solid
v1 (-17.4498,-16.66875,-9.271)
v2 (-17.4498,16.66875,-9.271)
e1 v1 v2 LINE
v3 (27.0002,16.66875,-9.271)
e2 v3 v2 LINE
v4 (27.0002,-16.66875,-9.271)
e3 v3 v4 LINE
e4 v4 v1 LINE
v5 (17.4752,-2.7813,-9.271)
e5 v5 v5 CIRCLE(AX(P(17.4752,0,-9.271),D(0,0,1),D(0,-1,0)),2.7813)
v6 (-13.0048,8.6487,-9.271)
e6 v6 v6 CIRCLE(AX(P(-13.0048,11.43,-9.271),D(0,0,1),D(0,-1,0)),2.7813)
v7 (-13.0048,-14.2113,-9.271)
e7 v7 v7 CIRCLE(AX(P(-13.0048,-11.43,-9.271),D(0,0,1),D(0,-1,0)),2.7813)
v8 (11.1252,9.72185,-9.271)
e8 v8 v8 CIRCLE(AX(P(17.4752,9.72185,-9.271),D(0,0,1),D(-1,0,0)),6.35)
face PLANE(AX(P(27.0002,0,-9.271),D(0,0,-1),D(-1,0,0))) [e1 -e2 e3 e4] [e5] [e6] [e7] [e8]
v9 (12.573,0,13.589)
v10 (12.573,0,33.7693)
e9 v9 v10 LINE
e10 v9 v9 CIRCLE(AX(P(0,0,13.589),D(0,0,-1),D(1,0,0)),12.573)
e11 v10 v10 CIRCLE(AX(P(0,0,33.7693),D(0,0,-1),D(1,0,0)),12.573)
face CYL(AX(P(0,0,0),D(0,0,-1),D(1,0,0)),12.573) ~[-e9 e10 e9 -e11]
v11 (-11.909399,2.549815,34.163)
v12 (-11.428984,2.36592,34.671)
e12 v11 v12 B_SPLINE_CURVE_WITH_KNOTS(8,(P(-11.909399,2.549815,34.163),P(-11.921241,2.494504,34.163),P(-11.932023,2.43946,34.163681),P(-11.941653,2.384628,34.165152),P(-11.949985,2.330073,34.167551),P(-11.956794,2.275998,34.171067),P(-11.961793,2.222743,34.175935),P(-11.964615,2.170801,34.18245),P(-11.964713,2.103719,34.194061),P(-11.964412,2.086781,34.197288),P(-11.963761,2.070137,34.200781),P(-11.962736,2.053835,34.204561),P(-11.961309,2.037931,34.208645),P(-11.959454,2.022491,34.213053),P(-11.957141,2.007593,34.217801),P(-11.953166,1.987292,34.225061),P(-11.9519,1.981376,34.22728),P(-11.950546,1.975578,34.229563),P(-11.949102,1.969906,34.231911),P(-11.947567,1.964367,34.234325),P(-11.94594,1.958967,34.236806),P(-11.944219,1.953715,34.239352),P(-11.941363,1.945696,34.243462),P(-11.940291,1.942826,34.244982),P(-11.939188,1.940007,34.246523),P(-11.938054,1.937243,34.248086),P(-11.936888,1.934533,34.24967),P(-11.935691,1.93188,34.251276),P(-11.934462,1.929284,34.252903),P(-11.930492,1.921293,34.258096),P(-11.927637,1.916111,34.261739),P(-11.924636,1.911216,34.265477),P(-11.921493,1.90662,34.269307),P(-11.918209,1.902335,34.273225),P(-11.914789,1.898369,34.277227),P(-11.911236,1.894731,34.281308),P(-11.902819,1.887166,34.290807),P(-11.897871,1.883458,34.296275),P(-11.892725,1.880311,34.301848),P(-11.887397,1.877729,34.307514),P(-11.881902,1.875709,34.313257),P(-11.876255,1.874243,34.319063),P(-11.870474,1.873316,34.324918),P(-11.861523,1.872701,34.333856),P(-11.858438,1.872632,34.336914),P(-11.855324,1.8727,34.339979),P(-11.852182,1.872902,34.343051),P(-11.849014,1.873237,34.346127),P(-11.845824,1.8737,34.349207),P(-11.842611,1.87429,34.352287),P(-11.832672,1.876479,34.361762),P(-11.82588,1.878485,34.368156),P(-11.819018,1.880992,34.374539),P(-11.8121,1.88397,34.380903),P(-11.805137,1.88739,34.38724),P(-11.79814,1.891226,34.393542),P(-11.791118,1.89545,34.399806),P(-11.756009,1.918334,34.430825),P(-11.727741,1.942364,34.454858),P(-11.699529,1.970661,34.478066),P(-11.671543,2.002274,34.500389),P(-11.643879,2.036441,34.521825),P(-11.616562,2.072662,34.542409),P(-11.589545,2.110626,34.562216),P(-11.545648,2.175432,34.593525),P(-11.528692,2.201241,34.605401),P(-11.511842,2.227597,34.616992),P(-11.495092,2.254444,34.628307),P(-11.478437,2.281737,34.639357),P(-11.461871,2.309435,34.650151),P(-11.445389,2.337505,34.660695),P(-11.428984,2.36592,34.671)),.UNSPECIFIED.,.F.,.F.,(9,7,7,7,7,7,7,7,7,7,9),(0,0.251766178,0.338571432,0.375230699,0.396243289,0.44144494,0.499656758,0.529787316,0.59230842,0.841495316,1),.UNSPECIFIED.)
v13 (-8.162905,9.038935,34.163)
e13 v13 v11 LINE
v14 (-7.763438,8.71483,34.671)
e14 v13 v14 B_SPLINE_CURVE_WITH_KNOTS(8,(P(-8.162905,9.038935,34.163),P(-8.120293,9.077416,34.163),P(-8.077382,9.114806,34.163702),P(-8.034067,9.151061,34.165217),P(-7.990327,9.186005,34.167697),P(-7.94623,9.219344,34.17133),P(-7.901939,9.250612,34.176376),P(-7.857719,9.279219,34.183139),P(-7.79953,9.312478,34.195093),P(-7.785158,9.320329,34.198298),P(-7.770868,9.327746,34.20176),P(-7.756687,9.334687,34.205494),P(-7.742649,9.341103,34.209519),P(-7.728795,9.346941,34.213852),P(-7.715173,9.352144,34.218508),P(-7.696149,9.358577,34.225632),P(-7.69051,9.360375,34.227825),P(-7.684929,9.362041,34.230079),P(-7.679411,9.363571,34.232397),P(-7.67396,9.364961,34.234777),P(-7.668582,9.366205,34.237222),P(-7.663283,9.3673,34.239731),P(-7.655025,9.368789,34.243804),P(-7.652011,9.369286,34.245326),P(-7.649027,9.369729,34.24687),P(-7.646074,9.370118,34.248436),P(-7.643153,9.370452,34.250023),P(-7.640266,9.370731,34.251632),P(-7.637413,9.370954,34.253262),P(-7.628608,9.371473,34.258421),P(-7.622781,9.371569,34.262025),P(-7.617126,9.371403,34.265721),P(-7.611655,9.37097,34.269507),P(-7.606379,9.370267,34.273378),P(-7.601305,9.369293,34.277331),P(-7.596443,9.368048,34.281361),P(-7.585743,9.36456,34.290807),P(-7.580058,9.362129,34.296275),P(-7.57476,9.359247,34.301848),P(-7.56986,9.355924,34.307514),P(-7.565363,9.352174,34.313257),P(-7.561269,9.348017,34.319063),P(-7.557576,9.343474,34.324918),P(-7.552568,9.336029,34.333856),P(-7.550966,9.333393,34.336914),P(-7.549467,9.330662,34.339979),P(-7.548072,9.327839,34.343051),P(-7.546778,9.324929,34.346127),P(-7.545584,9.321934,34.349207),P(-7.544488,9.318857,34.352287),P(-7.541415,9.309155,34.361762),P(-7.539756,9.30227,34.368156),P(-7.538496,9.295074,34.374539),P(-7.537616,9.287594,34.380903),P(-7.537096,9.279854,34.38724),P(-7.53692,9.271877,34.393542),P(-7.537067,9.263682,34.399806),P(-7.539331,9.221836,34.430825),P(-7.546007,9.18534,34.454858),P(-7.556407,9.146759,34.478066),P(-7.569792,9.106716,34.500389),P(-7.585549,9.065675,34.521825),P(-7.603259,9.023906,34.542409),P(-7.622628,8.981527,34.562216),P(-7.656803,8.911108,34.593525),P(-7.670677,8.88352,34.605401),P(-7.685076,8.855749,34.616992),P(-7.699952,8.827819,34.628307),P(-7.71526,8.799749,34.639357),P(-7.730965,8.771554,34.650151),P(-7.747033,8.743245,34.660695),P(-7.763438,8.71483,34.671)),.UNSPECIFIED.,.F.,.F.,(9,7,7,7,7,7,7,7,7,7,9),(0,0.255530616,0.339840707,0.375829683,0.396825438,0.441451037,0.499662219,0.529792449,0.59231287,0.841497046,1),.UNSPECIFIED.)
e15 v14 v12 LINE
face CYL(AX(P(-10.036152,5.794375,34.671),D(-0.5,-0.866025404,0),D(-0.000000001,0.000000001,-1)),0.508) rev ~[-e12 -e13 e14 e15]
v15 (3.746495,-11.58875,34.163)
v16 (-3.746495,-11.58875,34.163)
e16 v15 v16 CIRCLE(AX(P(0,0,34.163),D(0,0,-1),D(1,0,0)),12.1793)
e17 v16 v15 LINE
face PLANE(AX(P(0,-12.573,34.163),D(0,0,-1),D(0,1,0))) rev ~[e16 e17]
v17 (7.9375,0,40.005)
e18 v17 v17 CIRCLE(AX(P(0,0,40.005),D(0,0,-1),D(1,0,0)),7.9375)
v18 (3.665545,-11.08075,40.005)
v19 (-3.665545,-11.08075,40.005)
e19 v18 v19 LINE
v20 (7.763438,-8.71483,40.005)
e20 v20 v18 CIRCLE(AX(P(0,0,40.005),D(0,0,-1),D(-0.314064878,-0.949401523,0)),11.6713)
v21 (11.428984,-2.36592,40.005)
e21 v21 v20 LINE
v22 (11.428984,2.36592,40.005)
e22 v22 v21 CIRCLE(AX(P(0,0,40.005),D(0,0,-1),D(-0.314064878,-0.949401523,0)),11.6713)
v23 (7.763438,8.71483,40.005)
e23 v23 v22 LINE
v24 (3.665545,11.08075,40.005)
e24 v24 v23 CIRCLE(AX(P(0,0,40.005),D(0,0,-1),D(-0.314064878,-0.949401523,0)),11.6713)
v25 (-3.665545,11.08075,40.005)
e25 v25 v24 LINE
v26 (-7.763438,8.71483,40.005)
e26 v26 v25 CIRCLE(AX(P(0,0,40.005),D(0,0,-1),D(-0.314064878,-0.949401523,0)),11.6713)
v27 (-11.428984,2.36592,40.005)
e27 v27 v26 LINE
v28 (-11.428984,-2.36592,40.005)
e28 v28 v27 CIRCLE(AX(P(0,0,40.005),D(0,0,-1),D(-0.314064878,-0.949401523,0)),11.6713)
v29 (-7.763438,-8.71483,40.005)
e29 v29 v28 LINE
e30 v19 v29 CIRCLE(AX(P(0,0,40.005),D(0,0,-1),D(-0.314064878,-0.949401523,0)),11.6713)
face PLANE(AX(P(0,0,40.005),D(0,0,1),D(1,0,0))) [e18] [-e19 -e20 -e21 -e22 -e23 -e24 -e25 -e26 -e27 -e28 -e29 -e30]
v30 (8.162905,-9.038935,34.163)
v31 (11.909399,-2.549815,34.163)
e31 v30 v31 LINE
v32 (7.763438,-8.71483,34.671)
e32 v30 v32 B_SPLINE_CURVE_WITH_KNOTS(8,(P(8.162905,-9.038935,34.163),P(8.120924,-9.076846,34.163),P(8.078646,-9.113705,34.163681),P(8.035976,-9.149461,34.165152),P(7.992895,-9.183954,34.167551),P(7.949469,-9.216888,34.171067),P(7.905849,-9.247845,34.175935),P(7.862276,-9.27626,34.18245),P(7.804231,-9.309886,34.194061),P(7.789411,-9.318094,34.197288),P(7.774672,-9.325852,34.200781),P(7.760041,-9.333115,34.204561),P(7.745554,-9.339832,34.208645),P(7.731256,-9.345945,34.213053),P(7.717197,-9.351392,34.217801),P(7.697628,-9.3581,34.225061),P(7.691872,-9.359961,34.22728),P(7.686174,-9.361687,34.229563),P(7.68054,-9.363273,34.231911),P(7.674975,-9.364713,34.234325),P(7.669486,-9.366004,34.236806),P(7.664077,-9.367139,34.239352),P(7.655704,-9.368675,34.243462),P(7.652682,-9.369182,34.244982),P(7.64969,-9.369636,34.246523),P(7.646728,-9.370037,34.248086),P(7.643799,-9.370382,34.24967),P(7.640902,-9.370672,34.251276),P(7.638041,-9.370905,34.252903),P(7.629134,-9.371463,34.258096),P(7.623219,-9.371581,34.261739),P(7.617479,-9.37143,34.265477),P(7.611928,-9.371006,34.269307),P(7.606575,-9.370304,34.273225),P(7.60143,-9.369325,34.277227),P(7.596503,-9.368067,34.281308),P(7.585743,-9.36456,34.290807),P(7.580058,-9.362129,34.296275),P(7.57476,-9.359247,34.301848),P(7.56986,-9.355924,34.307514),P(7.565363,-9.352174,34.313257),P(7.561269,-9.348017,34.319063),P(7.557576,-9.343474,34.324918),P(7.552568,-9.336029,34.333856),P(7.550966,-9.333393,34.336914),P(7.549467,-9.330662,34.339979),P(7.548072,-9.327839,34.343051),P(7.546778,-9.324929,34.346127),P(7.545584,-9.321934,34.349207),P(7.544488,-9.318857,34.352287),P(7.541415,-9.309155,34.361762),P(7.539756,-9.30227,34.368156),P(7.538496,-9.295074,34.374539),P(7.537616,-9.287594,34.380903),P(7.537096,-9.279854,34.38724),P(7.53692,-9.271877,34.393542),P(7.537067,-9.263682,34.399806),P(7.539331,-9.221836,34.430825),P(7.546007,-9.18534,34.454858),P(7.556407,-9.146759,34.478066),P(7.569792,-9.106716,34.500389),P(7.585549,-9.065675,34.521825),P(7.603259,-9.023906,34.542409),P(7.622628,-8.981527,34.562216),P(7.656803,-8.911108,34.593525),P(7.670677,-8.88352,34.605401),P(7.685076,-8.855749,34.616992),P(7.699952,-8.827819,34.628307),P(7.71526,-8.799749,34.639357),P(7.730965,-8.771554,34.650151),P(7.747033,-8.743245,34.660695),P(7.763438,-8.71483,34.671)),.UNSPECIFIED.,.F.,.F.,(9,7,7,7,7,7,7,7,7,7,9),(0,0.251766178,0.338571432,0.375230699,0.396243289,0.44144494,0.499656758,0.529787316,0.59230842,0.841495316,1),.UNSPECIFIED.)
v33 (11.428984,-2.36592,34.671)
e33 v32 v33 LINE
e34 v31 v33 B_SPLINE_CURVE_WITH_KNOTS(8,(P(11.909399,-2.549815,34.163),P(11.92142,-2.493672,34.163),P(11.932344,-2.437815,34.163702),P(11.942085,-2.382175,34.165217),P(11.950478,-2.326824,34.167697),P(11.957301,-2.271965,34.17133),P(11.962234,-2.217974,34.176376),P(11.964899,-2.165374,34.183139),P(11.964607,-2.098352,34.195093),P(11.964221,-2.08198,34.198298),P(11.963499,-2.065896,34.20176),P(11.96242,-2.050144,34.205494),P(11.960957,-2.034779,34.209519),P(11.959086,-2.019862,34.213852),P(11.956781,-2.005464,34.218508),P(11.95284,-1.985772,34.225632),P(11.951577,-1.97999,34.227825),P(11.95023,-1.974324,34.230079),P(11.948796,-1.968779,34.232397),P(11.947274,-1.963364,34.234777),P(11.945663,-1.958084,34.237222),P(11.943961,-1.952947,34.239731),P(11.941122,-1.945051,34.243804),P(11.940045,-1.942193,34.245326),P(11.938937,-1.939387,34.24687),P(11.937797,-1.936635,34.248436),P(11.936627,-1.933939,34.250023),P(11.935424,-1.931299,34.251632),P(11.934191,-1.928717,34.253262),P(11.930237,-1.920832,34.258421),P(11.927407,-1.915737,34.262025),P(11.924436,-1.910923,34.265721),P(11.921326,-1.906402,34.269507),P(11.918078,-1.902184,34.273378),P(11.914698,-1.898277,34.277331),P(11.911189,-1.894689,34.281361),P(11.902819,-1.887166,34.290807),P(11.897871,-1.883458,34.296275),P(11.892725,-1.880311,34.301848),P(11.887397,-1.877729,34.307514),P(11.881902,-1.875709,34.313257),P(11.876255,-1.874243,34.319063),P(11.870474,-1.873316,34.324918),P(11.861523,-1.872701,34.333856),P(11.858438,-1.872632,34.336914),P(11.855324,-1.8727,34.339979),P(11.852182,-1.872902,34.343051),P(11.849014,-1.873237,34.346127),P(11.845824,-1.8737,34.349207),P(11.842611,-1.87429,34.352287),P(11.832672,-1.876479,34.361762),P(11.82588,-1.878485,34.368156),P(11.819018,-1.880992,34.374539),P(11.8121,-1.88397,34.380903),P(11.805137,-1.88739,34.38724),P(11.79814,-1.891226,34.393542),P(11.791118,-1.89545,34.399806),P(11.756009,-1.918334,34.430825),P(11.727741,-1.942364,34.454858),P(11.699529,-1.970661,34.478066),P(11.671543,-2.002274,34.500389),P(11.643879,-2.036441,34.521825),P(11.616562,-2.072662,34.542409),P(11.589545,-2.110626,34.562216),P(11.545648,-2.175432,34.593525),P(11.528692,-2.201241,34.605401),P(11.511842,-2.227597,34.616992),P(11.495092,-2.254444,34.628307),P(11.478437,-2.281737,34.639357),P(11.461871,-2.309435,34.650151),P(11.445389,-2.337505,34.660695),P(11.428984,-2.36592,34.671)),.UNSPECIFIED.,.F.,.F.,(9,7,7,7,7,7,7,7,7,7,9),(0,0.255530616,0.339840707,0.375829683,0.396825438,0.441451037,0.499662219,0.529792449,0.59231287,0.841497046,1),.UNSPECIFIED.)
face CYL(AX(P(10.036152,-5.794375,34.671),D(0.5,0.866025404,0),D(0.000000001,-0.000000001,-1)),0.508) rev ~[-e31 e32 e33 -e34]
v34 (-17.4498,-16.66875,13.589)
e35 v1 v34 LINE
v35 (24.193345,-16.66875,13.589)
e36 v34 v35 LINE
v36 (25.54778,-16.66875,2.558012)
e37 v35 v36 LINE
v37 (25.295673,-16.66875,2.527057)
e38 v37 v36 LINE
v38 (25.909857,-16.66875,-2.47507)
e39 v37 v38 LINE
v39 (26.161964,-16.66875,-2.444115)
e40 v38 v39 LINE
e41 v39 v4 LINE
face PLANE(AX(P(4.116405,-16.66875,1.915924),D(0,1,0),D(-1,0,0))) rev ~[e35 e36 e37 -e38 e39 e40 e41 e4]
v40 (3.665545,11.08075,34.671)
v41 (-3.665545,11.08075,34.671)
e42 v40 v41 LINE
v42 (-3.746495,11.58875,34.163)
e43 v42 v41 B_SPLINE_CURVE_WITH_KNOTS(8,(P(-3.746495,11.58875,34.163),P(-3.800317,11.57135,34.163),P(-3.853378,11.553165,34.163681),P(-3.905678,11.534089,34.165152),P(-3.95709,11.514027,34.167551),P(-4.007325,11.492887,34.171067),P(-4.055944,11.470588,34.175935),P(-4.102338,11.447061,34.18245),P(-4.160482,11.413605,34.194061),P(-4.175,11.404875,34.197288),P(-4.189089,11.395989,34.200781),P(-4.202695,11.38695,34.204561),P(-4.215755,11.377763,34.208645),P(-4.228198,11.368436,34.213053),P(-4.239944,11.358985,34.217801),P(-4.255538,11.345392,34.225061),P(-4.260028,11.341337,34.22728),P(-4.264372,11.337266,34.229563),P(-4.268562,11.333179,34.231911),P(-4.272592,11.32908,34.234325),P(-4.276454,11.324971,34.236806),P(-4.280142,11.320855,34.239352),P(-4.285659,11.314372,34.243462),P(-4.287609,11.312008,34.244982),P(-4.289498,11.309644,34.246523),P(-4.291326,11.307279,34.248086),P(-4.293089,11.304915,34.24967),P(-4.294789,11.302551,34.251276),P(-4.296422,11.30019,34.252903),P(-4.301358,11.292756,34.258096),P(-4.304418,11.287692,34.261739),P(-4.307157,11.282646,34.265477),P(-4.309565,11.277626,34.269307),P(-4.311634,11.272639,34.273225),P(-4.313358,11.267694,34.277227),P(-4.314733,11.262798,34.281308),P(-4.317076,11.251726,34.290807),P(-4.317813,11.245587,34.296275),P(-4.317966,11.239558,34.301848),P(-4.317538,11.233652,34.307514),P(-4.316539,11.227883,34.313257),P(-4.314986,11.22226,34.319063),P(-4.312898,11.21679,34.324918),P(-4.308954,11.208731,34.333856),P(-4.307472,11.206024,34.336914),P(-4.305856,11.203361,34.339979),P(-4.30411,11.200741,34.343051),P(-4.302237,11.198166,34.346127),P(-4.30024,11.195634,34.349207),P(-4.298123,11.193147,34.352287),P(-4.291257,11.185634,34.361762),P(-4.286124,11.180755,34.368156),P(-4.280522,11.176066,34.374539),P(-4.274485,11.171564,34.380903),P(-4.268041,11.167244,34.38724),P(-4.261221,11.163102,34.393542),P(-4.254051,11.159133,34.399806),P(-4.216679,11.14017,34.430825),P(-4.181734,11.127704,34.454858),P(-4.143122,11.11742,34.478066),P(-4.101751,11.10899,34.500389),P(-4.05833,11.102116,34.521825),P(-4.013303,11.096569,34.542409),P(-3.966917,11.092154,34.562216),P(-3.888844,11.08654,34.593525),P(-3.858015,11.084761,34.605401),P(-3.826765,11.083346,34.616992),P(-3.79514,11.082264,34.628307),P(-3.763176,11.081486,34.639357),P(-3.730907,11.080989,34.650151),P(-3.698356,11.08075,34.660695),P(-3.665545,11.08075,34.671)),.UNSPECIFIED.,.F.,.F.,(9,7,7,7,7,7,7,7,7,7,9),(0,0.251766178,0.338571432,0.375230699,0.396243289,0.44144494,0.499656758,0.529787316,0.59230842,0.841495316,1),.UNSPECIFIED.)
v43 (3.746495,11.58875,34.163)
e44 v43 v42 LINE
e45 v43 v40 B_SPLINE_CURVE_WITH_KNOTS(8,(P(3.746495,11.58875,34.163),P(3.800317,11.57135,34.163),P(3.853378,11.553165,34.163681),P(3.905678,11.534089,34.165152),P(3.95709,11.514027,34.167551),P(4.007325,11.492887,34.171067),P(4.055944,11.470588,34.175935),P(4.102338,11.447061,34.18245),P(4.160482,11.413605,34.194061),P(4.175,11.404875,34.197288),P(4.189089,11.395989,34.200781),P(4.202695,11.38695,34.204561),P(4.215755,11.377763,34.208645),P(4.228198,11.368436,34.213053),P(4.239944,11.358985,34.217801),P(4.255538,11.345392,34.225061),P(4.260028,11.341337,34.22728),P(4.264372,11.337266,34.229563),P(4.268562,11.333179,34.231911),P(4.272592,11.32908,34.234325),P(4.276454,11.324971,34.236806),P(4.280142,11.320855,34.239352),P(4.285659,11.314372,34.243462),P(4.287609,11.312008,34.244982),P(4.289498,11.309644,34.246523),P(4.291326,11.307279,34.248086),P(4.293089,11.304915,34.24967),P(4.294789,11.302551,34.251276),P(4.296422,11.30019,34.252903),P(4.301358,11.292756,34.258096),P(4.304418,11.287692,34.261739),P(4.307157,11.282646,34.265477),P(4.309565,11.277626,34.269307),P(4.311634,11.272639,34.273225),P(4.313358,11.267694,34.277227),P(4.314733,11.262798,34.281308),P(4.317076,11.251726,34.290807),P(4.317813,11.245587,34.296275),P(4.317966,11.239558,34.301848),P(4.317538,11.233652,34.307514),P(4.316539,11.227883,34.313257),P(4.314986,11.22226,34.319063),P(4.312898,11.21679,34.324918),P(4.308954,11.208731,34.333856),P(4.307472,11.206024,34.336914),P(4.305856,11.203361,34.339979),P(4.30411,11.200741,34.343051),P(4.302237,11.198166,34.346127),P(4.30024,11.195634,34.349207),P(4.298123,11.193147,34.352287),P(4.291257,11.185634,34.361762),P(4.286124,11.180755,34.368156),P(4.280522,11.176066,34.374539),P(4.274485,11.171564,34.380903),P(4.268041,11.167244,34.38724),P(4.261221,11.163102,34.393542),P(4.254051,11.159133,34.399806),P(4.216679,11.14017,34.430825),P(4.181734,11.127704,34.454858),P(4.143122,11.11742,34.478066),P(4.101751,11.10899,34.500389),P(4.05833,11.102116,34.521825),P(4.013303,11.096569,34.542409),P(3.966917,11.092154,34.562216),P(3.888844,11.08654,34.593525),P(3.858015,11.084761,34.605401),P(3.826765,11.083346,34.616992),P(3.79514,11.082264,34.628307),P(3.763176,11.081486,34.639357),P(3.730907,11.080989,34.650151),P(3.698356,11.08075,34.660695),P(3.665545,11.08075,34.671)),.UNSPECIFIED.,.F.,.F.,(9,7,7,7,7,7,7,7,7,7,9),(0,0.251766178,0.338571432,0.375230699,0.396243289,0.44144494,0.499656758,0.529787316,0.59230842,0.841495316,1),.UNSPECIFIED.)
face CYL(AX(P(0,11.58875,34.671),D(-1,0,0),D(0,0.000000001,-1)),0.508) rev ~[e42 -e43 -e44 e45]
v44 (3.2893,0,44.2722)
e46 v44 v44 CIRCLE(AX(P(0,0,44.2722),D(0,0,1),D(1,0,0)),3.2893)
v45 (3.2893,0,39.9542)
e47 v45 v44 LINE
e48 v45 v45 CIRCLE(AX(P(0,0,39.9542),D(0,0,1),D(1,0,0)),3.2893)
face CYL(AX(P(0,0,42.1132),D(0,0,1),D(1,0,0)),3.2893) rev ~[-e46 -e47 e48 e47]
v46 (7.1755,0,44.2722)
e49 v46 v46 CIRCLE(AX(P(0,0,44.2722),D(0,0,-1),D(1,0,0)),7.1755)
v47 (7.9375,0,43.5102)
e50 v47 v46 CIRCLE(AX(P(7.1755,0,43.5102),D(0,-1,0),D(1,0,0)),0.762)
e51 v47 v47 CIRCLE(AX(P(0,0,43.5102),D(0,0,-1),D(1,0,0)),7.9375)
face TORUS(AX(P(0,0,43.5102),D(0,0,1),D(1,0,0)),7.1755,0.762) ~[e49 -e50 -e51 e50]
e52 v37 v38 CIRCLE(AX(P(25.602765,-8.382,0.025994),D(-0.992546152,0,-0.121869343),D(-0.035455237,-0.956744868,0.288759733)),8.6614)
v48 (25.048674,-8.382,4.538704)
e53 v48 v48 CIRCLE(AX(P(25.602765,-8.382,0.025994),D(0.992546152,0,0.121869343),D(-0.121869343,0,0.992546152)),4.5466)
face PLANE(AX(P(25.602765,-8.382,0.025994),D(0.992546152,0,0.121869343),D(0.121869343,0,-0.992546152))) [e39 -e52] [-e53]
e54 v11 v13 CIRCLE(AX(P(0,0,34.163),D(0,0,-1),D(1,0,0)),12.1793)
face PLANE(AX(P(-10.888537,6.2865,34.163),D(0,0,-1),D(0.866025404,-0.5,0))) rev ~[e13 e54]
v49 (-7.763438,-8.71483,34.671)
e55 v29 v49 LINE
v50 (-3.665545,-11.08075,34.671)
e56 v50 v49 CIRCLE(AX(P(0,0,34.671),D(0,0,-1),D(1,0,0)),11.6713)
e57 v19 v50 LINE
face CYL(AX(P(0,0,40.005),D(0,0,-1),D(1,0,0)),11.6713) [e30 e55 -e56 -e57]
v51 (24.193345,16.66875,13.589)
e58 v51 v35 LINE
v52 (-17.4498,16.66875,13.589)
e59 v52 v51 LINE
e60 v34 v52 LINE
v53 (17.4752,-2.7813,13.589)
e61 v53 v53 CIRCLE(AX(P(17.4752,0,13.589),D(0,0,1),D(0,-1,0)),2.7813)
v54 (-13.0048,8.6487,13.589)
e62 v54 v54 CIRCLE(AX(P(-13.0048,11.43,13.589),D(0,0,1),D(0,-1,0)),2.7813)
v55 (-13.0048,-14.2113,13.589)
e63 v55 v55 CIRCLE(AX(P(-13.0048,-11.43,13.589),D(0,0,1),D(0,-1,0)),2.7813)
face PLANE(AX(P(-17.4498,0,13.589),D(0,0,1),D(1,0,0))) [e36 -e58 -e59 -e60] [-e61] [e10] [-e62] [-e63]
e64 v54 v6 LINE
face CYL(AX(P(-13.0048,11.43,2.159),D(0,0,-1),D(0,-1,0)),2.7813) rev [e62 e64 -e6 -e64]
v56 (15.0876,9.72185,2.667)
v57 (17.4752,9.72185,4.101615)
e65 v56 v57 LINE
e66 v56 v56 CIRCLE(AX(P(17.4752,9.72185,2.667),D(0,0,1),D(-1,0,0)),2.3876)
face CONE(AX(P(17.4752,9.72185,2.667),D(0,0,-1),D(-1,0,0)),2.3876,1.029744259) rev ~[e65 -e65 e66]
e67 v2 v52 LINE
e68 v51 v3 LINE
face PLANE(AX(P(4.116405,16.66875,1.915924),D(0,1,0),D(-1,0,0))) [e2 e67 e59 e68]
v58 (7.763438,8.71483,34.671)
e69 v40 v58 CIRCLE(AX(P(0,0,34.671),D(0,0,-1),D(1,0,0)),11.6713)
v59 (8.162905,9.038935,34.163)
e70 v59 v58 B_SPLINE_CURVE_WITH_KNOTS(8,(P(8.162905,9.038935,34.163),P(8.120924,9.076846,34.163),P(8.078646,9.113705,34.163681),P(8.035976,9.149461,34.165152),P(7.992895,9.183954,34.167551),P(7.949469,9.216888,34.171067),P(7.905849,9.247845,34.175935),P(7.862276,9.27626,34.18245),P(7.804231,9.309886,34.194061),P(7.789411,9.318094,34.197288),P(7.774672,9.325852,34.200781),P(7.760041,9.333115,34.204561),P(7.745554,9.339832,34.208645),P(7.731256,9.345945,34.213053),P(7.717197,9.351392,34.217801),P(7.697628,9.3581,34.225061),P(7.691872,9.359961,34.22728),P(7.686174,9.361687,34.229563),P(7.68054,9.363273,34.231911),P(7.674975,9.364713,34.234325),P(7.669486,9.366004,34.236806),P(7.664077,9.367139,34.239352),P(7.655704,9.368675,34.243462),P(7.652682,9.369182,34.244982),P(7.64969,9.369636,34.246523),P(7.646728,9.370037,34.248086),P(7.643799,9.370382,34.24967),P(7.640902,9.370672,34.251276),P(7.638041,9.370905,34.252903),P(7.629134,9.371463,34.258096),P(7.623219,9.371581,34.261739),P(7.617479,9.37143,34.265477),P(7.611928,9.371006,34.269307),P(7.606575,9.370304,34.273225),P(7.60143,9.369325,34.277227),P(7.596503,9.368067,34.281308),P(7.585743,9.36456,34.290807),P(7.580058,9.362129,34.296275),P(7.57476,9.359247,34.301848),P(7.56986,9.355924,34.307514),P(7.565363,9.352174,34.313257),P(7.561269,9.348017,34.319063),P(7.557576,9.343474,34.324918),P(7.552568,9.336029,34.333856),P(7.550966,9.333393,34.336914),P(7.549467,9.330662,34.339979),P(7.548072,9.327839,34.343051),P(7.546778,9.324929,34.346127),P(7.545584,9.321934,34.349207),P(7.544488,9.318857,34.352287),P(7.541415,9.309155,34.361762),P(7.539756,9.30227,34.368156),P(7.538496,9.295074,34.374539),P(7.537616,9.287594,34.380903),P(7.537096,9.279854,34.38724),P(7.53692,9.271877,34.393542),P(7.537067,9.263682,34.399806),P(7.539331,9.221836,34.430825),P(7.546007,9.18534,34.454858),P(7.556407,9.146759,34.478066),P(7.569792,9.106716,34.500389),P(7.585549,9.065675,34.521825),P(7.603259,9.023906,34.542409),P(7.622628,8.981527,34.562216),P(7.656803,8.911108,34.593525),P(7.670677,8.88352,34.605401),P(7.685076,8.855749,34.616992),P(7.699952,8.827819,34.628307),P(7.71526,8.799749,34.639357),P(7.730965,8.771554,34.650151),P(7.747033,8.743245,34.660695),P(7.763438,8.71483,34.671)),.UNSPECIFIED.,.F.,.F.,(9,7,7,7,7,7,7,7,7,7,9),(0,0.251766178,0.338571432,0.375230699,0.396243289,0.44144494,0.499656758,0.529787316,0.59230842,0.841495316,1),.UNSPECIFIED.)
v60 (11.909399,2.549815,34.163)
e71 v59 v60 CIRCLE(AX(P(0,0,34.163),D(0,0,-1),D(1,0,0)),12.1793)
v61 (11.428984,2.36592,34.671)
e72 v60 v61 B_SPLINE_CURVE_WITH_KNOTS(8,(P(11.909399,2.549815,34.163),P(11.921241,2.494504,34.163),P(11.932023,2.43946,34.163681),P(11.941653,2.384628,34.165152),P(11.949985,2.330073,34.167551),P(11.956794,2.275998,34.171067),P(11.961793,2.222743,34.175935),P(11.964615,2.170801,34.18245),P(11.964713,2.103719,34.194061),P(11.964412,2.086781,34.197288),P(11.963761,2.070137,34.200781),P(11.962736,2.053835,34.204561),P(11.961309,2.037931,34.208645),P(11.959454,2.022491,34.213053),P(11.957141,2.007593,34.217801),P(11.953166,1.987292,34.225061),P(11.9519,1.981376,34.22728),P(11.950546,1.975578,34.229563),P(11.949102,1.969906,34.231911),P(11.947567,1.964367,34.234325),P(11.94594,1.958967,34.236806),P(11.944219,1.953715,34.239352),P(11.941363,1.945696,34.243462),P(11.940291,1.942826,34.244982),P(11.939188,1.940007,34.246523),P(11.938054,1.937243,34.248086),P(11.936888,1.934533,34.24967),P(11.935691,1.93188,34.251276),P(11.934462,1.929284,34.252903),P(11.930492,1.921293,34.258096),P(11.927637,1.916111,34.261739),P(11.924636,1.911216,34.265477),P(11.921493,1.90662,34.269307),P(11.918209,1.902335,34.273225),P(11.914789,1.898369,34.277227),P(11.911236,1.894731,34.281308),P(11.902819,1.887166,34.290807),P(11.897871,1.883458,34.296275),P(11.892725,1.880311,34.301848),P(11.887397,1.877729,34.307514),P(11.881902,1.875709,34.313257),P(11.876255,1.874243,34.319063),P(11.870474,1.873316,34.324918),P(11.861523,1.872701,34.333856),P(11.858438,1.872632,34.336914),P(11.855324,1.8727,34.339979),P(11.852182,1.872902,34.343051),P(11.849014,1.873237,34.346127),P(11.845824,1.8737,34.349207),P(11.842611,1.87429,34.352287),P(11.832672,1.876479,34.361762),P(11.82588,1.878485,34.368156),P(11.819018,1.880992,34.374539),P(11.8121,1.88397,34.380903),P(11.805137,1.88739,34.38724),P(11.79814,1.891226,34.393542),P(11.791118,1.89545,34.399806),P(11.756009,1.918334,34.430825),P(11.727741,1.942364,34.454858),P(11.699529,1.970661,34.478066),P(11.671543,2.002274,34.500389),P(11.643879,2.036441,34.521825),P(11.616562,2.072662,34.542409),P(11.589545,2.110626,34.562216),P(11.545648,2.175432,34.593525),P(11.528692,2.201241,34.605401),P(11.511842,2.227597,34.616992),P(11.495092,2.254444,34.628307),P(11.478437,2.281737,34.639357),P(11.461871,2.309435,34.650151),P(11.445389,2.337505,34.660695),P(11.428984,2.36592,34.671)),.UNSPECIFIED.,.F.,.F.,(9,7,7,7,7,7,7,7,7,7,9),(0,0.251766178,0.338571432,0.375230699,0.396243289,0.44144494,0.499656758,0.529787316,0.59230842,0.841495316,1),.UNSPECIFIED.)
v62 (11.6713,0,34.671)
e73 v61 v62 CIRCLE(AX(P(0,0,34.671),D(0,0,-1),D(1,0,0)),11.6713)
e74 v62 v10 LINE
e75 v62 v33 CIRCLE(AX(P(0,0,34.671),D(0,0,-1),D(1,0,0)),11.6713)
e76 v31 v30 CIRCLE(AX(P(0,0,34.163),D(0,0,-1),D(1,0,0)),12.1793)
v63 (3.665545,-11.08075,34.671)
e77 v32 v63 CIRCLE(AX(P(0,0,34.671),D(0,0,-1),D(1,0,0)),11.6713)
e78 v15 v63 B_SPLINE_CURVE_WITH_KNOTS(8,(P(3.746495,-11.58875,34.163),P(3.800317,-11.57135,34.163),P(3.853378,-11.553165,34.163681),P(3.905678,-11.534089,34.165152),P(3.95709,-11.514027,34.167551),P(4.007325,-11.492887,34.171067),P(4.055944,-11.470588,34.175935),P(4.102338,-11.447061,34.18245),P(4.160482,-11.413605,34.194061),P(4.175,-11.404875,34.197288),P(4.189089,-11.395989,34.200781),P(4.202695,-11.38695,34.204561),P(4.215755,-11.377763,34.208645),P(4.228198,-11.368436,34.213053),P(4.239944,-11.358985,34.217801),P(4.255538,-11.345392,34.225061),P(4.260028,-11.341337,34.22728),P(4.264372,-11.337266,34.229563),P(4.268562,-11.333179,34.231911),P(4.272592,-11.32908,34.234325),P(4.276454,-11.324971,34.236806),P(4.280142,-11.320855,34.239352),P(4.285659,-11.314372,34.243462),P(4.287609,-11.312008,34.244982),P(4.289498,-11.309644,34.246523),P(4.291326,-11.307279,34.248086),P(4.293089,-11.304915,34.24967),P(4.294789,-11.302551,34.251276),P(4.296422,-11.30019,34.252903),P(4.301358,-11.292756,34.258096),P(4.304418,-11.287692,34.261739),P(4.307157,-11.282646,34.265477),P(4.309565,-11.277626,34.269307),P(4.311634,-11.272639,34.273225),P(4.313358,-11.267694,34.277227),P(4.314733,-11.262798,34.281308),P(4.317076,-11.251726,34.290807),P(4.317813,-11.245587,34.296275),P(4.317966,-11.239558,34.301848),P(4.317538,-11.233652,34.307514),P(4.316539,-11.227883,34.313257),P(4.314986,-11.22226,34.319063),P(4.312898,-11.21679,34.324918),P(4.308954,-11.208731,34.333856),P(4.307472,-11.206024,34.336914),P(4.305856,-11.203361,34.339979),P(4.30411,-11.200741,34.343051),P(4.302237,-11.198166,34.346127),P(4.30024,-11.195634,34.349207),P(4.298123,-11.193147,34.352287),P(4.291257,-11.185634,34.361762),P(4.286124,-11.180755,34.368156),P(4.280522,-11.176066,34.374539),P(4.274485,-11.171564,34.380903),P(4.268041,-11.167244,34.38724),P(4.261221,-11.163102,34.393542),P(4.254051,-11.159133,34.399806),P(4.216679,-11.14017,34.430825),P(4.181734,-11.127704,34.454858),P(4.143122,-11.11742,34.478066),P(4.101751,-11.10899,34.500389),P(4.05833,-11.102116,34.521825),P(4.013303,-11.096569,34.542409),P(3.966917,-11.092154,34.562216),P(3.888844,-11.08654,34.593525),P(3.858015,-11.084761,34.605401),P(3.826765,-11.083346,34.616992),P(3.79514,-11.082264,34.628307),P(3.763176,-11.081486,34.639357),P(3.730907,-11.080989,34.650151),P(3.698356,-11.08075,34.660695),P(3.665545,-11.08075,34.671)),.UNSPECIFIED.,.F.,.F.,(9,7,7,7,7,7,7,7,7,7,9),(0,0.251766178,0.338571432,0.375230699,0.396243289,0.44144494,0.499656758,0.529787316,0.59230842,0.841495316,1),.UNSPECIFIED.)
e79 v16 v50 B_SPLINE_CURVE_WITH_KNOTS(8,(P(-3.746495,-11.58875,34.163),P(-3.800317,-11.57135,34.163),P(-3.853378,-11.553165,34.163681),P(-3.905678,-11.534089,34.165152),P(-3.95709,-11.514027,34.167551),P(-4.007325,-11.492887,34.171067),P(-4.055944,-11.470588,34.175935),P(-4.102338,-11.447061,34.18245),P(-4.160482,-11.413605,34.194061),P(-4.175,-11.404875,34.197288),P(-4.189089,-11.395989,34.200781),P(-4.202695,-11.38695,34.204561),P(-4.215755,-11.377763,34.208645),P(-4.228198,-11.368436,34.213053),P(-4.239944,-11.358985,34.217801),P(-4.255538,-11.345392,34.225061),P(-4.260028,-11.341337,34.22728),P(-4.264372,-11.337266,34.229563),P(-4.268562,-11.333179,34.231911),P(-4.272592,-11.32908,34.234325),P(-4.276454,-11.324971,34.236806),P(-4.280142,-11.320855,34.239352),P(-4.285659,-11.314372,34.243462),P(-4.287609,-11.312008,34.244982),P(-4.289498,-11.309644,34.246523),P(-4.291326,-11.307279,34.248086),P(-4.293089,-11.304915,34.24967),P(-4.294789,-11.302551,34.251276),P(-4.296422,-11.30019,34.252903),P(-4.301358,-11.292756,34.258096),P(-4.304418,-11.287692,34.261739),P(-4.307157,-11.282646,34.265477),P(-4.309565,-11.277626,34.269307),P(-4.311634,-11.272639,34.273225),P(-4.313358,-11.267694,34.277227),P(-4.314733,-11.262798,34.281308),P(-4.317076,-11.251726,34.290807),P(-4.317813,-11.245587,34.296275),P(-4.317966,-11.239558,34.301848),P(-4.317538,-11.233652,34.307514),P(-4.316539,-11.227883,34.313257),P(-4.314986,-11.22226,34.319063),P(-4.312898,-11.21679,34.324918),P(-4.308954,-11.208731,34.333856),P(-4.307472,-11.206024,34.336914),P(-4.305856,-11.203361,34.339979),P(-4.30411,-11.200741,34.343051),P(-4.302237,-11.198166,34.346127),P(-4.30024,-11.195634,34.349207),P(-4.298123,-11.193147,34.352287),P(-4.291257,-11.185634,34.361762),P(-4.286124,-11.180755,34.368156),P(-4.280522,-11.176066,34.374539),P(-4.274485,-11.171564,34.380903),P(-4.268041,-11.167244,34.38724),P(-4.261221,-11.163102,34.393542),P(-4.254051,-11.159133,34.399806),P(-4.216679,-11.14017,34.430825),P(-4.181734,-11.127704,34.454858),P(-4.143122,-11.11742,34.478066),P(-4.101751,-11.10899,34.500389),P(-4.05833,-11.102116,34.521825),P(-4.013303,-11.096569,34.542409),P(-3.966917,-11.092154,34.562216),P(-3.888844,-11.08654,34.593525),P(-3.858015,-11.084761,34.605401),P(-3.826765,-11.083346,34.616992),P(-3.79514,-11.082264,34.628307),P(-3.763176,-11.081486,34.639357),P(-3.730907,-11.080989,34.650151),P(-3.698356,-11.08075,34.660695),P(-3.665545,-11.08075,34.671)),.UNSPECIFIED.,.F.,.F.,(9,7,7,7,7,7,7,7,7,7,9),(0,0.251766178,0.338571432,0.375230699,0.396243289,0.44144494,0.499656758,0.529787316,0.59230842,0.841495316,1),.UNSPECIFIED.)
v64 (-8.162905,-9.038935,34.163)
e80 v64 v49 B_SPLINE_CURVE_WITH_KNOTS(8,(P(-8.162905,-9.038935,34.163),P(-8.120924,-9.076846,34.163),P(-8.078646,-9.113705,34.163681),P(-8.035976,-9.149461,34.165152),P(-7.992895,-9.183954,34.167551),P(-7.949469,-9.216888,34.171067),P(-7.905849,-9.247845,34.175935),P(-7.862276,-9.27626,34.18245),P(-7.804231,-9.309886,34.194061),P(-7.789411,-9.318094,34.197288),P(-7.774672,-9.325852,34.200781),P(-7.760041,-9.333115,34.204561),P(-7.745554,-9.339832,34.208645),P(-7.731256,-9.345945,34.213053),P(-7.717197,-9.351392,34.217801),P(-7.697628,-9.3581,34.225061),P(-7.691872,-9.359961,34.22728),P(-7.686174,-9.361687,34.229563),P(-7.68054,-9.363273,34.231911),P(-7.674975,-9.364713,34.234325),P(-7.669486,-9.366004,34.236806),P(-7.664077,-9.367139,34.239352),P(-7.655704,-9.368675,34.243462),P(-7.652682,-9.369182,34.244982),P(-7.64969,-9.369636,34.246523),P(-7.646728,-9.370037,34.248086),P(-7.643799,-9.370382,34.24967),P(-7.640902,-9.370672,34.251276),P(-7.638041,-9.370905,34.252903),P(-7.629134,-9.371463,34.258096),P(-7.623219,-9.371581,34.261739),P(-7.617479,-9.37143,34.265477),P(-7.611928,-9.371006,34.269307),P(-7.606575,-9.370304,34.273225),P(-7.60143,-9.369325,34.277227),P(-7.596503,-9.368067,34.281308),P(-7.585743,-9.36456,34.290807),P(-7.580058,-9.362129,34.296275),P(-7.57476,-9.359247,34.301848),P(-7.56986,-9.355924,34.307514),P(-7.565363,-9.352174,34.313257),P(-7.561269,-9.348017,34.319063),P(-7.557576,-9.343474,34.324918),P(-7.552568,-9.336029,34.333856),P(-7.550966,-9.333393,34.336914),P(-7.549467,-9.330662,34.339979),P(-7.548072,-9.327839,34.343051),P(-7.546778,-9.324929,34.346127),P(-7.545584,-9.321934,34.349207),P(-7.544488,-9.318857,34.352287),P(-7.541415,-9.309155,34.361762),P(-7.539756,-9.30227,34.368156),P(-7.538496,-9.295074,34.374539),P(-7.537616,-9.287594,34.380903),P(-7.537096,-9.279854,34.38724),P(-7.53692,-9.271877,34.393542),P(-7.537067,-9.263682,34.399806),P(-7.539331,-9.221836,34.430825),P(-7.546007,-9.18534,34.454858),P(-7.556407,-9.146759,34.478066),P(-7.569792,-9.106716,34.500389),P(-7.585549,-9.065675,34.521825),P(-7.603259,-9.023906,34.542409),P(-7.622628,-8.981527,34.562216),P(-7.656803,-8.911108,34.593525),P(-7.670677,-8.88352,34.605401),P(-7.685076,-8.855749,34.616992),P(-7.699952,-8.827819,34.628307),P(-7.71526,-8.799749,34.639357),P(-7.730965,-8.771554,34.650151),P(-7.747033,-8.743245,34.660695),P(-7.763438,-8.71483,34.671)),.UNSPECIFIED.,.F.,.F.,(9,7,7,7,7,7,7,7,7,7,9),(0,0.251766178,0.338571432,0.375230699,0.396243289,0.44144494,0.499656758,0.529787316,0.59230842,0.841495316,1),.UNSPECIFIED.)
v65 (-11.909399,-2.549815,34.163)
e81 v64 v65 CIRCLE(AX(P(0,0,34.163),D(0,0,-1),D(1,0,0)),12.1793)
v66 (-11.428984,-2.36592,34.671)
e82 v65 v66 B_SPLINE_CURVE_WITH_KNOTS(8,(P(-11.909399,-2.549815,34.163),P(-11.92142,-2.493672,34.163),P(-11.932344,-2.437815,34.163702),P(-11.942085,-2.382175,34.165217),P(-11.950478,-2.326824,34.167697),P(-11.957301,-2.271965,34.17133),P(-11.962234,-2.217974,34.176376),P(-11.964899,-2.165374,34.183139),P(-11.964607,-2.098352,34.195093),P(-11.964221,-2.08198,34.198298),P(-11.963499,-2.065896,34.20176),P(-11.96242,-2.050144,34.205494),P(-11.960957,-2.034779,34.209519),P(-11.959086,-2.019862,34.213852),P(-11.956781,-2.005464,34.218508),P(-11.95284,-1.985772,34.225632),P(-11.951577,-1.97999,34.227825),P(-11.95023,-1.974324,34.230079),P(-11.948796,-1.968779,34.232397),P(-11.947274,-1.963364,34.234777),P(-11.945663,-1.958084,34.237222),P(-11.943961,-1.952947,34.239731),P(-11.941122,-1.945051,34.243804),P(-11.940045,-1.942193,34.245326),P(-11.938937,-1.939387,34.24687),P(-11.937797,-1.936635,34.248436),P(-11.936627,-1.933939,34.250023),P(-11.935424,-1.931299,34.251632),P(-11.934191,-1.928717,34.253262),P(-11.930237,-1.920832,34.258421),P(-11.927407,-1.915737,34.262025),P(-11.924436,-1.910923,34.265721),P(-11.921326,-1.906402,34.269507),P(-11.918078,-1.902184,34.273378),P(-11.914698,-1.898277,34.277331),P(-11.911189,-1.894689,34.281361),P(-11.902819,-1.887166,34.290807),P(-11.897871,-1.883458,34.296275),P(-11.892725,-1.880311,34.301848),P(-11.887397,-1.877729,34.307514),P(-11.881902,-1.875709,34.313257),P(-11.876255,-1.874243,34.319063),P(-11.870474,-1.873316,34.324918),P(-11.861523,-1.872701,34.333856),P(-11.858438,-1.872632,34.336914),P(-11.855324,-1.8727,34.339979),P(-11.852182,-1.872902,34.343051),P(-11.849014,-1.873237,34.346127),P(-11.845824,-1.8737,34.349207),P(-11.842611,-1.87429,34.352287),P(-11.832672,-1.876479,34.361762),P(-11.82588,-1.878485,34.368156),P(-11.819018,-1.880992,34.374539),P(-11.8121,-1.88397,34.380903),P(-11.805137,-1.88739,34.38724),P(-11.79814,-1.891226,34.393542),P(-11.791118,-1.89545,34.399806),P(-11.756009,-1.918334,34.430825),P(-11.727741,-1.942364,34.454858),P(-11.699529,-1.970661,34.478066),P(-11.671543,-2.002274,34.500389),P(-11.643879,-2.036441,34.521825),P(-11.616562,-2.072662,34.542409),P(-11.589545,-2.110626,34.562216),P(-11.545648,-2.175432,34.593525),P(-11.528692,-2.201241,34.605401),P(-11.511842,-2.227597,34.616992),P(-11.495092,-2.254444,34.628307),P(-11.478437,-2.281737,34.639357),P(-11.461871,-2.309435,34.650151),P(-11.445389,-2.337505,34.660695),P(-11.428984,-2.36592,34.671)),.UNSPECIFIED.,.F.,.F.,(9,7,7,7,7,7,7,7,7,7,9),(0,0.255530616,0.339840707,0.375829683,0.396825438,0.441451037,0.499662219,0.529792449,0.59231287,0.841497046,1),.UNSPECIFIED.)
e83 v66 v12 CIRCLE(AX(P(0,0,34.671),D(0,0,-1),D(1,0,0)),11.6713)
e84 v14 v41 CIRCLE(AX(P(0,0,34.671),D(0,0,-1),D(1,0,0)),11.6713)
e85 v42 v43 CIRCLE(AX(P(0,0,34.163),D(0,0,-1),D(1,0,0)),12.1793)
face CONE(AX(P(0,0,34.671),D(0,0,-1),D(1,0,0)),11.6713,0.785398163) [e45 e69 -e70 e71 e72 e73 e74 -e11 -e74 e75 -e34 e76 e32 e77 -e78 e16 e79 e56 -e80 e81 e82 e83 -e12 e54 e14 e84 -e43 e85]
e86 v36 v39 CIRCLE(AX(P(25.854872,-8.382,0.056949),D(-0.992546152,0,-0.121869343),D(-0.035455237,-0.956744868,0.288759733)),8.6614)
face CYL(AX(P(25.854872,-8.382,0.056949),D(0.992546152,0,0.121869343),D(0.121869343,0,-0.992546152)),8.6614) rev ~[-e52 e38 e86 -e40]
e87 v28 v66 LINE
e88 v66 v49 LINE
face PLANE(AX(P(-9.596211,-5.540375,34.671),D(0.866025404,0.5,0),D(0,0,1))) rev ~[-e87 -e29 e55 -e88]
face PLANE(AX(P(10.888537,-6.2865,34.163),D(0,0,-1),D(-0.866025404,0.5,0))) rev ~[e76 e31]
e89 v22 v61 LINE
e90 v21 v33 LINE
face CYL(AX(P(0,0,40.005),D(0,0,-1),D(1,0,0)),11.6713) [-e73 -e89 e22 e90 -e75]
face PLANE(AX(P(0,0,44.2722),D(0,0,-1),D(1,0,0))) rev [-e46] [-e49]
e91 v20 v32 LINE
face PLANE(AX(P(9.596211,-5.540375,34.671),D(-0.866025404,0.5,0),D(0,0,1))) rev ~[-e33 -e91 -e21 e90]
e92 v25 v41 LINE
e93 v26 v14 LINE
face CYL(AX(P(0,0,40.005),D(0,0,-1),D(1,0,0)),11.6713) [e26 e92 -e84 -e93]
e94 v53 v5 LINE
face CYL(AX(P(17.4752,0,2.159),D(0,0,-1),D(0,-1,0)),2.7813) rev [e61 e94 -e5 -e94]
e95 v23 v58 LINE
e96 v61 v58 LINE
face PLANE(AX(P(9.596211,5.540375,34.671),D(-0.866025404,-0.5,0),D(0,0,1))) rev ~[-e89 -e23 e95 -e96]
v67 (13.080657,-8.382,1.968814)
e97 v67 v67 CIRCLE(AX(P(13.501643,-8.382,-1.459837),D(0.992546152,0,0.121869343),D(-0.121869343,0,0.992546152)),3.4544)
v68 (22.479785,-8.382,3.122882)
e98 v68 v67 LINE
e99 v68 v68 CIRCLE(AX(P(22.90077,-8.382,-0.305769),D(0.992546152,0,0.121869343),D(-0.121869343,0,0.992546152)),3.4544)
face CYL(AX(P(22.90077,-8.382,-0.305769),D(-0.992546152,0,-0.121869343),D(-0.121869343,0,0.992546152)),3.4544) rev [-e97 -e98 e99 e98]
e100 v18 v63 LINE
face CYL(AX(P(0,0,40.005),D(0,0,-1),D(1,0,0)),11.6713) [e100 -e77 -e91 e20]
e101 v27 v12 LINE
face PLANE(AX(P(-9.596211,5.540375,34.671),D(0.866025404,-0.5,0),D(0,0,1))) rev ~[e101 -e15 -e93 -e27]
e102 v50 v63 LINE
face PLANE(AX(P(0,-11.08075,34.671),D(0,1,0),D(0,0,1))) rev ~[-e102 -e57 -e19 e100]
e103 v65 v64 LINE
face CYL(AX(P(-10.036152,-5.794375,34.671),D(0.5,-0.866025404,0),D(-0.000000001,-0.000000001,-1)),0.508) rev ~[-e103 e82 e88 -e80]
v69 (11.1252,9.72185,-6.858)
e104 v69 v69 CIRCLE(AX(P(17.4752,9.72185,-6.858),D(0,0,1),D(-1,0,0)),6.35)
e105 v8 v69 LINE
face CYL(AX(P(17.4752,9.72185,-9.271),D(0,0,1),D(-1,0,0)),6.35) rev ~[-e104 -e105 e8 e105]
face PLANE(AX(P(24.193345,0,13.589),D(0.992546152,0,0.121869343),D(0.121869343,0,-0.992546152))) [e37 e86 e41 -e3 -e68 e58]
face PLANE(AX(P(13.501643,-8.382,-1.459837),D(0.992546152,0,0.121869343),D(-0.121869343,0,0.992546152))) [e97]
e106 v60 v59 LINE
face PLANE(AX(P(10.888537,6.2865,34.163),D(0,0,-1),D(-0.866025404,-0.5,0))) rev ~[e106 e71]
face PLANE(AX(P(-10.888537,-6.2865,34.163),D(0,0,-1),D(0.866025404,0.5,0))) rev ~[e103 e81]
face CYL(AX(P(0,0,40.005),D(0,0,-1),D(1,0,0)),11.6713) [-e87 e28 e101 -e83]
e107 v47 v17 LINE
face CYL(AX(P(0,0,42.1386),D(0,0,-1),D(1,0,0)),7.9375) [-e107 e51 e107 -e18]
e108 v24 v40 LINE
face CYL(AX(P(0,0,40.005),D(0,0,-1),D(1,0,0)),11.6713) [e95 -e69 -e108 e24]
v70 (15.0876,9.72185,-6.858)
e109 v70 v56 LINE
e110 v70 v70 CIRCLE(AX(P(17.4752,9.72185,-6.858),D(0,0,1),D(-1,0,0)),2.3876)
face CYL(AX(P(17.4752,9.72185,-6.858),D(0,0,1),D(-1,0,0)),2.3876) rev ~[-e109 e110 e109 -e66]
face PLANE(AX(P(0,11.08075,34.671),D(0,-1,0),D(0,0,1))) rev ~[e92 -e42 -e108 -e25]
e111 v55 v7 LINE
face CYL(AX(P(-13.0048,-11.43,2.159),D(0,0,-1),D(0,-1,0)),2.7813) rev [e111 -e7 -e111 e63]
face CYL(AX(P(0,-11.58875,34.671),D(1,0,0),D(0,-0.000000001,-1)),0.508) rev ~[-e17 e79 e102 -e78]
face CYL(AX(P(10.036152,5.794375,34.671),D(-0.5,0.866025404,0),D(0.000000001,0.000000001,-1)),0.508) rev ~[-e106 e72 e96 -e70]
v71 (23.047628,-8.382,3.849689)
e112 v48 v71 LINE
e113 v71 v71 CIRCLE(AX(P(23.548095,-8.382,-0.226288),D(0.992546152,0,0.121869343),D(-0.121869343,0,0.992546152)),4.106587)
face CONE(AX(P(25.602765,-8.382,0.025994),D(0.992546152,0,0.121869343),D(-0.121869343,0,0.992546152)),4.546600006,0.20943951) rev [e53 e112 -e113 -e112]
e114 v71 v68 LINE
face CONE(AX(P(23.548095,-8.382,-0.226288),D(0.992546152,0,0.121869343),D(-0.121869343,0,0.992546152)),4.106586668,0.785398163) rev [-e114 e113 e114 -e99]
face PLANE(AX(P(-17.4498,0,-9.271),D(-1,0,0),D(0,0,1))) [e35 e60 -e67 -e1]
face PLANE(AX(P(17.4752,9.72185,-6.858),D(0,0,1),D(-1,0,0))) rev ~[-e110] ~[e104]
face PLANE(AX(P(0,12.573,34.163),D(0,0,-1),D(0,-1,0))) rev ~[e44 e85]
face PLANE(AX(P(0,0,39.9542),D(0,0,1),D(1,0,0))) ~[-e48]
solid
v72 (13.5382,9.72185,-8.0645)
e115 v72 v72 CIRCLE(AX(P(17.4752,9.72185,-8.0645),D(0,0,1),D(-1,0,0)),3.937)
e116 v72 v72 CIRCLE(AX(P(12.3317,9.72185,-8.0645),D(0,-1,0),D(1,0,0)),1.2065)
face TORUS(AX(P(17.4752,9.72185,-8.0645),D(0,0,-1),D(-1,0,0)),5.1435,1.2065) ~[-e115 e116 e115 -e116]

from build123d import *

# Parameters (mm, degrees)
SKETCH1_R           = 12.573
EXTRUDE1_DEPTH      = 40.005
CUT_EXTRUDE1_DEPTH  = 15.0876
SKETCH11_W          = 4.2672
SKETCH11_H          = 7.9375
S2D0011_W           = 3.2893
S2D0011_H           = 4.318
FILLET1_R           = 0.762
EXTRUDE2_DEPTH      = 16.66875
EXTRUDE2_DEPTH_BACK = 16.66875
SKETCH14_R          = 8.6614
CUT_EXTRUDE9_DEPTH  = 0.254
SKETCH17_R          = 1.2065
CIRPATTERN2_COUNT   = 6
SKETCH18_W          = 2.7813
SKETCH18_H          = 22.86
HOLE1_AT_2_COUNT    = 2
HOLE1_AT_2_PITCH    = 32.55265427
HOLE1_AT_3_COUNT    = 2
HOLE1_AT_3_PITCH    = 22.86


with BuildPart() as part:
    # Sketch1 → Extrude1 (new body)
    with BuildSketch(Plane.XY):
        Circle(SKETCH1_R)
    extrude(amount=EXTRUDE1_DEPTH)

    # Sketch2 → Cut-Extrude1 (cut, symmetric)
    with BuildSketch(Plane(origin=(0, 0, 0), x_dir=(0, 0, 1), z_dir=(1, 0, 0))):
        with BuildLine():
            Line((34.163, 12.573), (34.163, 11.58875))
            ThreePointArc((34.163, 11.58875), (34.311789755, 11.229539755), (34.671, 11.08075))
            Line((34.671, 11.08075), (40.005, 11.08075))
            Line((40.005, 11.08075), (40.005, 12.573))
            Line((40.005, 12.573), (34.163, 12.573))
        make_face()
    cut_extrude1 = extrude(amount=CUT_EXTRUDE1_DEPTH, both=True, mode=Mode.SUBTRACT)

    # Sketch10 → Cut-Revolve1 (revolve, cut)
    with BuildSketch(Plane(origin=(0, 0, 0), x_dir=(0, 0, -1), z_dir=(1, 0, 0)), mode=Mode.PRIVATE) as cut_revolve1_sk:
        Polygon((-40.005, 11.6713), (-34.671, 11.6713), (-33.7693, 12.573), (-40.005, 12.573), align=None)
    revolve(cut_revolve1_sk.sketch.rotate(Axis((0, 0, 40.316785), (0, 0, -1)), 90), axis=Axis((0, 0, 40.316785), (0, 0, -1)), mode=Mode.SUBTRACT)  # turned: the seam where the file's is

    # Sketch11 → Revolve1 (revolve)
    with BuildSketch(Plane(origin=(0, 0, 0), x_dir=(0, 0, -1), z_dir=(1, 0, 0)), mode=Mode.PRIVATE) as revolve1_sk:
        with Locations((-42.1386, 3.96875)):
            Rectangle(SKETCH11_W, SKETCH11_H)
    revolve(revolve1_sk.sketch.rotate(Axis((0, 0, 44.48556), (0, 0, -1)), 90), axis=Axis((0, 0, 44.48556), (0, 0, -1)))  # turned: the seam where the file's is

    # S2D0011 → Cut-Revolve2 (revolve, cut)
    with BuildSketch(Plane(origin=(-3.2893, 0, 44.2722), x_dir=(-1, 0, 0), z_dir=(0, 1, 0)), mode=Mode.PRIVATE) as cut_revolve2_sk:
        with Locations((-1.64465, -2.159)):
            Rectangle(S2D0011_W, S2D0011_H)
    revolve(cut_revolve2_sk.sketch.rotate(Axis((0, 0, 28.856062964), (0, 0, 1)), 180), axis=Axis((0, 0, 28.856062964), (0, 0, 1)), mode=Mode.SUBTRACT)  # turned: the seam where the file's is

    # Fillet1
    fillet1_edges = [part.edges().sort_by_distance(p)[0] for p in [
        (-7.9375, 0, 44.2722),
    ]]
    fillet(fillet1_edges, radius=FILLET1_R)

    # Sketch13 → Extrude2 (add, two sides)
    with BuildSketch(Plane(origin=(0, 0, 0), x_dir=(-1, 0, 0), z_dir=(0, 1, 0))) as extrude2_sk:
        Polygon((-27.0002, -9.271), (17.4498, -9.271), (17.4498, 13.589), (-24.193344938, 13.589), align=None)
    extrude(amount=EXTRUDE2_DEPTH)
    extrude(extrude2_sk.sketch, amount=-EXTRUDE2_DEPTH_BACK)

    # Sketch14 → Cut-Extrude9 (cut)
    with BuildSketch(Plane(origin=(25.477760387, 0, 3.128275622), x_dir=(0.121869343, 0, -0.992546152), z_dir=(0.992546152, 0, 0.121869343))):
        with Locations((3.094392018, -8.382)):
            Circle(SKETCH14_R)
    extrude(amount=-CUT_EXTRUDE9_DEPTH, mode=Mode.SUBTRACT)

    # S2D0002 → Cut-Revolve3 (revolve, cut)
    with BuildSketch(Plane(origin=(25.602765188, -8.382, 0.02599392), x_dir=(-0.121869343, 0, 0.992546152), z_dir=(0, 1, 0))):
        Polygon((0, 0), (4.5466, 0), (4.106586662, -2.0701), (3.4544, -2.722286662), (3.4544, -12.192), (0, -12.192), align=None)
    revolve(axis=Axis((12.896586373, -8.382, -1.534128667), (0.992546152, 0, 0.121869343)), mode=Mode.SUBTRACT)

    # Sketch16 → Cut-Revolve4 (revolve, cut)
    with BuildSketch(Plane(origin=(17.4752, 9.72185, -8.345048891), x_dir=(-1, 0, 0), z_dir=(0, 1, 0))):
        Polygon((0, -0.925951109), (6.35, -0.925951109), (6.35, 1.487048891), (2.3876, 1.487048891), (2.3876, 11.012048891), (0, 12.446663705), align=None)
    revolve(axis=Axis((17.4752, 9.72185, -9.939630741), (0, 0, 1)), mode=Mode.SUBTRACT)

    # CirPattern2: Cut-Extrude1 ×6 about axis
    cirpattern2_axis = Axis((0, 0, 0), (0, 0, 1))
    for i in range(1, CIRPATTERN2_COUNT):
        add(cut_extrude1.rotate(cirpattern2_axis, i * 360 / CIRPATTERN2_COUNT), mode=Mode.SUBTRACT)

    # Sketch18 → Hole1 (revolve, cut)
    with BuildSketch(Plane(origin=(-13.0048, -11.43, 13.589), x_dir=(0, -1, 0), z_dir=(1, 0, 0))):
        with Locations((1.39065, 11.43)):
            Rectangle(SKETCH18_W, SKETCH18_H)
    hole1 = revolve(axis=Axis((-13.0048, -11.43, -96.411), (0, 0, 1)), mode=Mode.SUBTRACT)

    # Hole1 at 2: Hole1 ×2
    with Locations(*[Vector(0.936329178, 0.351123442, 0) * (i * HOLE1_AT_2_PITCH) for i in range(1, HOLE1_AT_2_COUNT)]):
        add(hole1, mode=Mode.SUBTRACT)

    # Hole1 at 3: Hole1 ×2
    with Locations(*[(0, i * HOLE1_AT_3_PITCH, 0) for i in range(1, HOLE1_AT_3_COUNT)]):
        add(hole1, mode=Mode.SUBTRACT)


with BuildPart() as body_2:
    # Sketch17 → Revolve2 (revolve)
    with BuildSketch(Plane(origin=(17.4752, 9.72185, -8.345048891), x_dir=(-1, 0, 0), z_dir=(0, 1, 0)), mode=Mode.PRIVATE) as revolve2_sk:
        with Locations((-5.1435, 0.280548891)):
            Circle(SKETCH17_R)
    revolve(revolve2_sk.sketch.rotate(Axis((17.4752, 9.72185, -9.39165), (0, 0, 1)), 180), axis=Axis((17.4752, 9.72185, -9.39165), (0, 0, 1)))  # turned: the seam where the file's is


solid = Compound([part.part, body_2.part])
